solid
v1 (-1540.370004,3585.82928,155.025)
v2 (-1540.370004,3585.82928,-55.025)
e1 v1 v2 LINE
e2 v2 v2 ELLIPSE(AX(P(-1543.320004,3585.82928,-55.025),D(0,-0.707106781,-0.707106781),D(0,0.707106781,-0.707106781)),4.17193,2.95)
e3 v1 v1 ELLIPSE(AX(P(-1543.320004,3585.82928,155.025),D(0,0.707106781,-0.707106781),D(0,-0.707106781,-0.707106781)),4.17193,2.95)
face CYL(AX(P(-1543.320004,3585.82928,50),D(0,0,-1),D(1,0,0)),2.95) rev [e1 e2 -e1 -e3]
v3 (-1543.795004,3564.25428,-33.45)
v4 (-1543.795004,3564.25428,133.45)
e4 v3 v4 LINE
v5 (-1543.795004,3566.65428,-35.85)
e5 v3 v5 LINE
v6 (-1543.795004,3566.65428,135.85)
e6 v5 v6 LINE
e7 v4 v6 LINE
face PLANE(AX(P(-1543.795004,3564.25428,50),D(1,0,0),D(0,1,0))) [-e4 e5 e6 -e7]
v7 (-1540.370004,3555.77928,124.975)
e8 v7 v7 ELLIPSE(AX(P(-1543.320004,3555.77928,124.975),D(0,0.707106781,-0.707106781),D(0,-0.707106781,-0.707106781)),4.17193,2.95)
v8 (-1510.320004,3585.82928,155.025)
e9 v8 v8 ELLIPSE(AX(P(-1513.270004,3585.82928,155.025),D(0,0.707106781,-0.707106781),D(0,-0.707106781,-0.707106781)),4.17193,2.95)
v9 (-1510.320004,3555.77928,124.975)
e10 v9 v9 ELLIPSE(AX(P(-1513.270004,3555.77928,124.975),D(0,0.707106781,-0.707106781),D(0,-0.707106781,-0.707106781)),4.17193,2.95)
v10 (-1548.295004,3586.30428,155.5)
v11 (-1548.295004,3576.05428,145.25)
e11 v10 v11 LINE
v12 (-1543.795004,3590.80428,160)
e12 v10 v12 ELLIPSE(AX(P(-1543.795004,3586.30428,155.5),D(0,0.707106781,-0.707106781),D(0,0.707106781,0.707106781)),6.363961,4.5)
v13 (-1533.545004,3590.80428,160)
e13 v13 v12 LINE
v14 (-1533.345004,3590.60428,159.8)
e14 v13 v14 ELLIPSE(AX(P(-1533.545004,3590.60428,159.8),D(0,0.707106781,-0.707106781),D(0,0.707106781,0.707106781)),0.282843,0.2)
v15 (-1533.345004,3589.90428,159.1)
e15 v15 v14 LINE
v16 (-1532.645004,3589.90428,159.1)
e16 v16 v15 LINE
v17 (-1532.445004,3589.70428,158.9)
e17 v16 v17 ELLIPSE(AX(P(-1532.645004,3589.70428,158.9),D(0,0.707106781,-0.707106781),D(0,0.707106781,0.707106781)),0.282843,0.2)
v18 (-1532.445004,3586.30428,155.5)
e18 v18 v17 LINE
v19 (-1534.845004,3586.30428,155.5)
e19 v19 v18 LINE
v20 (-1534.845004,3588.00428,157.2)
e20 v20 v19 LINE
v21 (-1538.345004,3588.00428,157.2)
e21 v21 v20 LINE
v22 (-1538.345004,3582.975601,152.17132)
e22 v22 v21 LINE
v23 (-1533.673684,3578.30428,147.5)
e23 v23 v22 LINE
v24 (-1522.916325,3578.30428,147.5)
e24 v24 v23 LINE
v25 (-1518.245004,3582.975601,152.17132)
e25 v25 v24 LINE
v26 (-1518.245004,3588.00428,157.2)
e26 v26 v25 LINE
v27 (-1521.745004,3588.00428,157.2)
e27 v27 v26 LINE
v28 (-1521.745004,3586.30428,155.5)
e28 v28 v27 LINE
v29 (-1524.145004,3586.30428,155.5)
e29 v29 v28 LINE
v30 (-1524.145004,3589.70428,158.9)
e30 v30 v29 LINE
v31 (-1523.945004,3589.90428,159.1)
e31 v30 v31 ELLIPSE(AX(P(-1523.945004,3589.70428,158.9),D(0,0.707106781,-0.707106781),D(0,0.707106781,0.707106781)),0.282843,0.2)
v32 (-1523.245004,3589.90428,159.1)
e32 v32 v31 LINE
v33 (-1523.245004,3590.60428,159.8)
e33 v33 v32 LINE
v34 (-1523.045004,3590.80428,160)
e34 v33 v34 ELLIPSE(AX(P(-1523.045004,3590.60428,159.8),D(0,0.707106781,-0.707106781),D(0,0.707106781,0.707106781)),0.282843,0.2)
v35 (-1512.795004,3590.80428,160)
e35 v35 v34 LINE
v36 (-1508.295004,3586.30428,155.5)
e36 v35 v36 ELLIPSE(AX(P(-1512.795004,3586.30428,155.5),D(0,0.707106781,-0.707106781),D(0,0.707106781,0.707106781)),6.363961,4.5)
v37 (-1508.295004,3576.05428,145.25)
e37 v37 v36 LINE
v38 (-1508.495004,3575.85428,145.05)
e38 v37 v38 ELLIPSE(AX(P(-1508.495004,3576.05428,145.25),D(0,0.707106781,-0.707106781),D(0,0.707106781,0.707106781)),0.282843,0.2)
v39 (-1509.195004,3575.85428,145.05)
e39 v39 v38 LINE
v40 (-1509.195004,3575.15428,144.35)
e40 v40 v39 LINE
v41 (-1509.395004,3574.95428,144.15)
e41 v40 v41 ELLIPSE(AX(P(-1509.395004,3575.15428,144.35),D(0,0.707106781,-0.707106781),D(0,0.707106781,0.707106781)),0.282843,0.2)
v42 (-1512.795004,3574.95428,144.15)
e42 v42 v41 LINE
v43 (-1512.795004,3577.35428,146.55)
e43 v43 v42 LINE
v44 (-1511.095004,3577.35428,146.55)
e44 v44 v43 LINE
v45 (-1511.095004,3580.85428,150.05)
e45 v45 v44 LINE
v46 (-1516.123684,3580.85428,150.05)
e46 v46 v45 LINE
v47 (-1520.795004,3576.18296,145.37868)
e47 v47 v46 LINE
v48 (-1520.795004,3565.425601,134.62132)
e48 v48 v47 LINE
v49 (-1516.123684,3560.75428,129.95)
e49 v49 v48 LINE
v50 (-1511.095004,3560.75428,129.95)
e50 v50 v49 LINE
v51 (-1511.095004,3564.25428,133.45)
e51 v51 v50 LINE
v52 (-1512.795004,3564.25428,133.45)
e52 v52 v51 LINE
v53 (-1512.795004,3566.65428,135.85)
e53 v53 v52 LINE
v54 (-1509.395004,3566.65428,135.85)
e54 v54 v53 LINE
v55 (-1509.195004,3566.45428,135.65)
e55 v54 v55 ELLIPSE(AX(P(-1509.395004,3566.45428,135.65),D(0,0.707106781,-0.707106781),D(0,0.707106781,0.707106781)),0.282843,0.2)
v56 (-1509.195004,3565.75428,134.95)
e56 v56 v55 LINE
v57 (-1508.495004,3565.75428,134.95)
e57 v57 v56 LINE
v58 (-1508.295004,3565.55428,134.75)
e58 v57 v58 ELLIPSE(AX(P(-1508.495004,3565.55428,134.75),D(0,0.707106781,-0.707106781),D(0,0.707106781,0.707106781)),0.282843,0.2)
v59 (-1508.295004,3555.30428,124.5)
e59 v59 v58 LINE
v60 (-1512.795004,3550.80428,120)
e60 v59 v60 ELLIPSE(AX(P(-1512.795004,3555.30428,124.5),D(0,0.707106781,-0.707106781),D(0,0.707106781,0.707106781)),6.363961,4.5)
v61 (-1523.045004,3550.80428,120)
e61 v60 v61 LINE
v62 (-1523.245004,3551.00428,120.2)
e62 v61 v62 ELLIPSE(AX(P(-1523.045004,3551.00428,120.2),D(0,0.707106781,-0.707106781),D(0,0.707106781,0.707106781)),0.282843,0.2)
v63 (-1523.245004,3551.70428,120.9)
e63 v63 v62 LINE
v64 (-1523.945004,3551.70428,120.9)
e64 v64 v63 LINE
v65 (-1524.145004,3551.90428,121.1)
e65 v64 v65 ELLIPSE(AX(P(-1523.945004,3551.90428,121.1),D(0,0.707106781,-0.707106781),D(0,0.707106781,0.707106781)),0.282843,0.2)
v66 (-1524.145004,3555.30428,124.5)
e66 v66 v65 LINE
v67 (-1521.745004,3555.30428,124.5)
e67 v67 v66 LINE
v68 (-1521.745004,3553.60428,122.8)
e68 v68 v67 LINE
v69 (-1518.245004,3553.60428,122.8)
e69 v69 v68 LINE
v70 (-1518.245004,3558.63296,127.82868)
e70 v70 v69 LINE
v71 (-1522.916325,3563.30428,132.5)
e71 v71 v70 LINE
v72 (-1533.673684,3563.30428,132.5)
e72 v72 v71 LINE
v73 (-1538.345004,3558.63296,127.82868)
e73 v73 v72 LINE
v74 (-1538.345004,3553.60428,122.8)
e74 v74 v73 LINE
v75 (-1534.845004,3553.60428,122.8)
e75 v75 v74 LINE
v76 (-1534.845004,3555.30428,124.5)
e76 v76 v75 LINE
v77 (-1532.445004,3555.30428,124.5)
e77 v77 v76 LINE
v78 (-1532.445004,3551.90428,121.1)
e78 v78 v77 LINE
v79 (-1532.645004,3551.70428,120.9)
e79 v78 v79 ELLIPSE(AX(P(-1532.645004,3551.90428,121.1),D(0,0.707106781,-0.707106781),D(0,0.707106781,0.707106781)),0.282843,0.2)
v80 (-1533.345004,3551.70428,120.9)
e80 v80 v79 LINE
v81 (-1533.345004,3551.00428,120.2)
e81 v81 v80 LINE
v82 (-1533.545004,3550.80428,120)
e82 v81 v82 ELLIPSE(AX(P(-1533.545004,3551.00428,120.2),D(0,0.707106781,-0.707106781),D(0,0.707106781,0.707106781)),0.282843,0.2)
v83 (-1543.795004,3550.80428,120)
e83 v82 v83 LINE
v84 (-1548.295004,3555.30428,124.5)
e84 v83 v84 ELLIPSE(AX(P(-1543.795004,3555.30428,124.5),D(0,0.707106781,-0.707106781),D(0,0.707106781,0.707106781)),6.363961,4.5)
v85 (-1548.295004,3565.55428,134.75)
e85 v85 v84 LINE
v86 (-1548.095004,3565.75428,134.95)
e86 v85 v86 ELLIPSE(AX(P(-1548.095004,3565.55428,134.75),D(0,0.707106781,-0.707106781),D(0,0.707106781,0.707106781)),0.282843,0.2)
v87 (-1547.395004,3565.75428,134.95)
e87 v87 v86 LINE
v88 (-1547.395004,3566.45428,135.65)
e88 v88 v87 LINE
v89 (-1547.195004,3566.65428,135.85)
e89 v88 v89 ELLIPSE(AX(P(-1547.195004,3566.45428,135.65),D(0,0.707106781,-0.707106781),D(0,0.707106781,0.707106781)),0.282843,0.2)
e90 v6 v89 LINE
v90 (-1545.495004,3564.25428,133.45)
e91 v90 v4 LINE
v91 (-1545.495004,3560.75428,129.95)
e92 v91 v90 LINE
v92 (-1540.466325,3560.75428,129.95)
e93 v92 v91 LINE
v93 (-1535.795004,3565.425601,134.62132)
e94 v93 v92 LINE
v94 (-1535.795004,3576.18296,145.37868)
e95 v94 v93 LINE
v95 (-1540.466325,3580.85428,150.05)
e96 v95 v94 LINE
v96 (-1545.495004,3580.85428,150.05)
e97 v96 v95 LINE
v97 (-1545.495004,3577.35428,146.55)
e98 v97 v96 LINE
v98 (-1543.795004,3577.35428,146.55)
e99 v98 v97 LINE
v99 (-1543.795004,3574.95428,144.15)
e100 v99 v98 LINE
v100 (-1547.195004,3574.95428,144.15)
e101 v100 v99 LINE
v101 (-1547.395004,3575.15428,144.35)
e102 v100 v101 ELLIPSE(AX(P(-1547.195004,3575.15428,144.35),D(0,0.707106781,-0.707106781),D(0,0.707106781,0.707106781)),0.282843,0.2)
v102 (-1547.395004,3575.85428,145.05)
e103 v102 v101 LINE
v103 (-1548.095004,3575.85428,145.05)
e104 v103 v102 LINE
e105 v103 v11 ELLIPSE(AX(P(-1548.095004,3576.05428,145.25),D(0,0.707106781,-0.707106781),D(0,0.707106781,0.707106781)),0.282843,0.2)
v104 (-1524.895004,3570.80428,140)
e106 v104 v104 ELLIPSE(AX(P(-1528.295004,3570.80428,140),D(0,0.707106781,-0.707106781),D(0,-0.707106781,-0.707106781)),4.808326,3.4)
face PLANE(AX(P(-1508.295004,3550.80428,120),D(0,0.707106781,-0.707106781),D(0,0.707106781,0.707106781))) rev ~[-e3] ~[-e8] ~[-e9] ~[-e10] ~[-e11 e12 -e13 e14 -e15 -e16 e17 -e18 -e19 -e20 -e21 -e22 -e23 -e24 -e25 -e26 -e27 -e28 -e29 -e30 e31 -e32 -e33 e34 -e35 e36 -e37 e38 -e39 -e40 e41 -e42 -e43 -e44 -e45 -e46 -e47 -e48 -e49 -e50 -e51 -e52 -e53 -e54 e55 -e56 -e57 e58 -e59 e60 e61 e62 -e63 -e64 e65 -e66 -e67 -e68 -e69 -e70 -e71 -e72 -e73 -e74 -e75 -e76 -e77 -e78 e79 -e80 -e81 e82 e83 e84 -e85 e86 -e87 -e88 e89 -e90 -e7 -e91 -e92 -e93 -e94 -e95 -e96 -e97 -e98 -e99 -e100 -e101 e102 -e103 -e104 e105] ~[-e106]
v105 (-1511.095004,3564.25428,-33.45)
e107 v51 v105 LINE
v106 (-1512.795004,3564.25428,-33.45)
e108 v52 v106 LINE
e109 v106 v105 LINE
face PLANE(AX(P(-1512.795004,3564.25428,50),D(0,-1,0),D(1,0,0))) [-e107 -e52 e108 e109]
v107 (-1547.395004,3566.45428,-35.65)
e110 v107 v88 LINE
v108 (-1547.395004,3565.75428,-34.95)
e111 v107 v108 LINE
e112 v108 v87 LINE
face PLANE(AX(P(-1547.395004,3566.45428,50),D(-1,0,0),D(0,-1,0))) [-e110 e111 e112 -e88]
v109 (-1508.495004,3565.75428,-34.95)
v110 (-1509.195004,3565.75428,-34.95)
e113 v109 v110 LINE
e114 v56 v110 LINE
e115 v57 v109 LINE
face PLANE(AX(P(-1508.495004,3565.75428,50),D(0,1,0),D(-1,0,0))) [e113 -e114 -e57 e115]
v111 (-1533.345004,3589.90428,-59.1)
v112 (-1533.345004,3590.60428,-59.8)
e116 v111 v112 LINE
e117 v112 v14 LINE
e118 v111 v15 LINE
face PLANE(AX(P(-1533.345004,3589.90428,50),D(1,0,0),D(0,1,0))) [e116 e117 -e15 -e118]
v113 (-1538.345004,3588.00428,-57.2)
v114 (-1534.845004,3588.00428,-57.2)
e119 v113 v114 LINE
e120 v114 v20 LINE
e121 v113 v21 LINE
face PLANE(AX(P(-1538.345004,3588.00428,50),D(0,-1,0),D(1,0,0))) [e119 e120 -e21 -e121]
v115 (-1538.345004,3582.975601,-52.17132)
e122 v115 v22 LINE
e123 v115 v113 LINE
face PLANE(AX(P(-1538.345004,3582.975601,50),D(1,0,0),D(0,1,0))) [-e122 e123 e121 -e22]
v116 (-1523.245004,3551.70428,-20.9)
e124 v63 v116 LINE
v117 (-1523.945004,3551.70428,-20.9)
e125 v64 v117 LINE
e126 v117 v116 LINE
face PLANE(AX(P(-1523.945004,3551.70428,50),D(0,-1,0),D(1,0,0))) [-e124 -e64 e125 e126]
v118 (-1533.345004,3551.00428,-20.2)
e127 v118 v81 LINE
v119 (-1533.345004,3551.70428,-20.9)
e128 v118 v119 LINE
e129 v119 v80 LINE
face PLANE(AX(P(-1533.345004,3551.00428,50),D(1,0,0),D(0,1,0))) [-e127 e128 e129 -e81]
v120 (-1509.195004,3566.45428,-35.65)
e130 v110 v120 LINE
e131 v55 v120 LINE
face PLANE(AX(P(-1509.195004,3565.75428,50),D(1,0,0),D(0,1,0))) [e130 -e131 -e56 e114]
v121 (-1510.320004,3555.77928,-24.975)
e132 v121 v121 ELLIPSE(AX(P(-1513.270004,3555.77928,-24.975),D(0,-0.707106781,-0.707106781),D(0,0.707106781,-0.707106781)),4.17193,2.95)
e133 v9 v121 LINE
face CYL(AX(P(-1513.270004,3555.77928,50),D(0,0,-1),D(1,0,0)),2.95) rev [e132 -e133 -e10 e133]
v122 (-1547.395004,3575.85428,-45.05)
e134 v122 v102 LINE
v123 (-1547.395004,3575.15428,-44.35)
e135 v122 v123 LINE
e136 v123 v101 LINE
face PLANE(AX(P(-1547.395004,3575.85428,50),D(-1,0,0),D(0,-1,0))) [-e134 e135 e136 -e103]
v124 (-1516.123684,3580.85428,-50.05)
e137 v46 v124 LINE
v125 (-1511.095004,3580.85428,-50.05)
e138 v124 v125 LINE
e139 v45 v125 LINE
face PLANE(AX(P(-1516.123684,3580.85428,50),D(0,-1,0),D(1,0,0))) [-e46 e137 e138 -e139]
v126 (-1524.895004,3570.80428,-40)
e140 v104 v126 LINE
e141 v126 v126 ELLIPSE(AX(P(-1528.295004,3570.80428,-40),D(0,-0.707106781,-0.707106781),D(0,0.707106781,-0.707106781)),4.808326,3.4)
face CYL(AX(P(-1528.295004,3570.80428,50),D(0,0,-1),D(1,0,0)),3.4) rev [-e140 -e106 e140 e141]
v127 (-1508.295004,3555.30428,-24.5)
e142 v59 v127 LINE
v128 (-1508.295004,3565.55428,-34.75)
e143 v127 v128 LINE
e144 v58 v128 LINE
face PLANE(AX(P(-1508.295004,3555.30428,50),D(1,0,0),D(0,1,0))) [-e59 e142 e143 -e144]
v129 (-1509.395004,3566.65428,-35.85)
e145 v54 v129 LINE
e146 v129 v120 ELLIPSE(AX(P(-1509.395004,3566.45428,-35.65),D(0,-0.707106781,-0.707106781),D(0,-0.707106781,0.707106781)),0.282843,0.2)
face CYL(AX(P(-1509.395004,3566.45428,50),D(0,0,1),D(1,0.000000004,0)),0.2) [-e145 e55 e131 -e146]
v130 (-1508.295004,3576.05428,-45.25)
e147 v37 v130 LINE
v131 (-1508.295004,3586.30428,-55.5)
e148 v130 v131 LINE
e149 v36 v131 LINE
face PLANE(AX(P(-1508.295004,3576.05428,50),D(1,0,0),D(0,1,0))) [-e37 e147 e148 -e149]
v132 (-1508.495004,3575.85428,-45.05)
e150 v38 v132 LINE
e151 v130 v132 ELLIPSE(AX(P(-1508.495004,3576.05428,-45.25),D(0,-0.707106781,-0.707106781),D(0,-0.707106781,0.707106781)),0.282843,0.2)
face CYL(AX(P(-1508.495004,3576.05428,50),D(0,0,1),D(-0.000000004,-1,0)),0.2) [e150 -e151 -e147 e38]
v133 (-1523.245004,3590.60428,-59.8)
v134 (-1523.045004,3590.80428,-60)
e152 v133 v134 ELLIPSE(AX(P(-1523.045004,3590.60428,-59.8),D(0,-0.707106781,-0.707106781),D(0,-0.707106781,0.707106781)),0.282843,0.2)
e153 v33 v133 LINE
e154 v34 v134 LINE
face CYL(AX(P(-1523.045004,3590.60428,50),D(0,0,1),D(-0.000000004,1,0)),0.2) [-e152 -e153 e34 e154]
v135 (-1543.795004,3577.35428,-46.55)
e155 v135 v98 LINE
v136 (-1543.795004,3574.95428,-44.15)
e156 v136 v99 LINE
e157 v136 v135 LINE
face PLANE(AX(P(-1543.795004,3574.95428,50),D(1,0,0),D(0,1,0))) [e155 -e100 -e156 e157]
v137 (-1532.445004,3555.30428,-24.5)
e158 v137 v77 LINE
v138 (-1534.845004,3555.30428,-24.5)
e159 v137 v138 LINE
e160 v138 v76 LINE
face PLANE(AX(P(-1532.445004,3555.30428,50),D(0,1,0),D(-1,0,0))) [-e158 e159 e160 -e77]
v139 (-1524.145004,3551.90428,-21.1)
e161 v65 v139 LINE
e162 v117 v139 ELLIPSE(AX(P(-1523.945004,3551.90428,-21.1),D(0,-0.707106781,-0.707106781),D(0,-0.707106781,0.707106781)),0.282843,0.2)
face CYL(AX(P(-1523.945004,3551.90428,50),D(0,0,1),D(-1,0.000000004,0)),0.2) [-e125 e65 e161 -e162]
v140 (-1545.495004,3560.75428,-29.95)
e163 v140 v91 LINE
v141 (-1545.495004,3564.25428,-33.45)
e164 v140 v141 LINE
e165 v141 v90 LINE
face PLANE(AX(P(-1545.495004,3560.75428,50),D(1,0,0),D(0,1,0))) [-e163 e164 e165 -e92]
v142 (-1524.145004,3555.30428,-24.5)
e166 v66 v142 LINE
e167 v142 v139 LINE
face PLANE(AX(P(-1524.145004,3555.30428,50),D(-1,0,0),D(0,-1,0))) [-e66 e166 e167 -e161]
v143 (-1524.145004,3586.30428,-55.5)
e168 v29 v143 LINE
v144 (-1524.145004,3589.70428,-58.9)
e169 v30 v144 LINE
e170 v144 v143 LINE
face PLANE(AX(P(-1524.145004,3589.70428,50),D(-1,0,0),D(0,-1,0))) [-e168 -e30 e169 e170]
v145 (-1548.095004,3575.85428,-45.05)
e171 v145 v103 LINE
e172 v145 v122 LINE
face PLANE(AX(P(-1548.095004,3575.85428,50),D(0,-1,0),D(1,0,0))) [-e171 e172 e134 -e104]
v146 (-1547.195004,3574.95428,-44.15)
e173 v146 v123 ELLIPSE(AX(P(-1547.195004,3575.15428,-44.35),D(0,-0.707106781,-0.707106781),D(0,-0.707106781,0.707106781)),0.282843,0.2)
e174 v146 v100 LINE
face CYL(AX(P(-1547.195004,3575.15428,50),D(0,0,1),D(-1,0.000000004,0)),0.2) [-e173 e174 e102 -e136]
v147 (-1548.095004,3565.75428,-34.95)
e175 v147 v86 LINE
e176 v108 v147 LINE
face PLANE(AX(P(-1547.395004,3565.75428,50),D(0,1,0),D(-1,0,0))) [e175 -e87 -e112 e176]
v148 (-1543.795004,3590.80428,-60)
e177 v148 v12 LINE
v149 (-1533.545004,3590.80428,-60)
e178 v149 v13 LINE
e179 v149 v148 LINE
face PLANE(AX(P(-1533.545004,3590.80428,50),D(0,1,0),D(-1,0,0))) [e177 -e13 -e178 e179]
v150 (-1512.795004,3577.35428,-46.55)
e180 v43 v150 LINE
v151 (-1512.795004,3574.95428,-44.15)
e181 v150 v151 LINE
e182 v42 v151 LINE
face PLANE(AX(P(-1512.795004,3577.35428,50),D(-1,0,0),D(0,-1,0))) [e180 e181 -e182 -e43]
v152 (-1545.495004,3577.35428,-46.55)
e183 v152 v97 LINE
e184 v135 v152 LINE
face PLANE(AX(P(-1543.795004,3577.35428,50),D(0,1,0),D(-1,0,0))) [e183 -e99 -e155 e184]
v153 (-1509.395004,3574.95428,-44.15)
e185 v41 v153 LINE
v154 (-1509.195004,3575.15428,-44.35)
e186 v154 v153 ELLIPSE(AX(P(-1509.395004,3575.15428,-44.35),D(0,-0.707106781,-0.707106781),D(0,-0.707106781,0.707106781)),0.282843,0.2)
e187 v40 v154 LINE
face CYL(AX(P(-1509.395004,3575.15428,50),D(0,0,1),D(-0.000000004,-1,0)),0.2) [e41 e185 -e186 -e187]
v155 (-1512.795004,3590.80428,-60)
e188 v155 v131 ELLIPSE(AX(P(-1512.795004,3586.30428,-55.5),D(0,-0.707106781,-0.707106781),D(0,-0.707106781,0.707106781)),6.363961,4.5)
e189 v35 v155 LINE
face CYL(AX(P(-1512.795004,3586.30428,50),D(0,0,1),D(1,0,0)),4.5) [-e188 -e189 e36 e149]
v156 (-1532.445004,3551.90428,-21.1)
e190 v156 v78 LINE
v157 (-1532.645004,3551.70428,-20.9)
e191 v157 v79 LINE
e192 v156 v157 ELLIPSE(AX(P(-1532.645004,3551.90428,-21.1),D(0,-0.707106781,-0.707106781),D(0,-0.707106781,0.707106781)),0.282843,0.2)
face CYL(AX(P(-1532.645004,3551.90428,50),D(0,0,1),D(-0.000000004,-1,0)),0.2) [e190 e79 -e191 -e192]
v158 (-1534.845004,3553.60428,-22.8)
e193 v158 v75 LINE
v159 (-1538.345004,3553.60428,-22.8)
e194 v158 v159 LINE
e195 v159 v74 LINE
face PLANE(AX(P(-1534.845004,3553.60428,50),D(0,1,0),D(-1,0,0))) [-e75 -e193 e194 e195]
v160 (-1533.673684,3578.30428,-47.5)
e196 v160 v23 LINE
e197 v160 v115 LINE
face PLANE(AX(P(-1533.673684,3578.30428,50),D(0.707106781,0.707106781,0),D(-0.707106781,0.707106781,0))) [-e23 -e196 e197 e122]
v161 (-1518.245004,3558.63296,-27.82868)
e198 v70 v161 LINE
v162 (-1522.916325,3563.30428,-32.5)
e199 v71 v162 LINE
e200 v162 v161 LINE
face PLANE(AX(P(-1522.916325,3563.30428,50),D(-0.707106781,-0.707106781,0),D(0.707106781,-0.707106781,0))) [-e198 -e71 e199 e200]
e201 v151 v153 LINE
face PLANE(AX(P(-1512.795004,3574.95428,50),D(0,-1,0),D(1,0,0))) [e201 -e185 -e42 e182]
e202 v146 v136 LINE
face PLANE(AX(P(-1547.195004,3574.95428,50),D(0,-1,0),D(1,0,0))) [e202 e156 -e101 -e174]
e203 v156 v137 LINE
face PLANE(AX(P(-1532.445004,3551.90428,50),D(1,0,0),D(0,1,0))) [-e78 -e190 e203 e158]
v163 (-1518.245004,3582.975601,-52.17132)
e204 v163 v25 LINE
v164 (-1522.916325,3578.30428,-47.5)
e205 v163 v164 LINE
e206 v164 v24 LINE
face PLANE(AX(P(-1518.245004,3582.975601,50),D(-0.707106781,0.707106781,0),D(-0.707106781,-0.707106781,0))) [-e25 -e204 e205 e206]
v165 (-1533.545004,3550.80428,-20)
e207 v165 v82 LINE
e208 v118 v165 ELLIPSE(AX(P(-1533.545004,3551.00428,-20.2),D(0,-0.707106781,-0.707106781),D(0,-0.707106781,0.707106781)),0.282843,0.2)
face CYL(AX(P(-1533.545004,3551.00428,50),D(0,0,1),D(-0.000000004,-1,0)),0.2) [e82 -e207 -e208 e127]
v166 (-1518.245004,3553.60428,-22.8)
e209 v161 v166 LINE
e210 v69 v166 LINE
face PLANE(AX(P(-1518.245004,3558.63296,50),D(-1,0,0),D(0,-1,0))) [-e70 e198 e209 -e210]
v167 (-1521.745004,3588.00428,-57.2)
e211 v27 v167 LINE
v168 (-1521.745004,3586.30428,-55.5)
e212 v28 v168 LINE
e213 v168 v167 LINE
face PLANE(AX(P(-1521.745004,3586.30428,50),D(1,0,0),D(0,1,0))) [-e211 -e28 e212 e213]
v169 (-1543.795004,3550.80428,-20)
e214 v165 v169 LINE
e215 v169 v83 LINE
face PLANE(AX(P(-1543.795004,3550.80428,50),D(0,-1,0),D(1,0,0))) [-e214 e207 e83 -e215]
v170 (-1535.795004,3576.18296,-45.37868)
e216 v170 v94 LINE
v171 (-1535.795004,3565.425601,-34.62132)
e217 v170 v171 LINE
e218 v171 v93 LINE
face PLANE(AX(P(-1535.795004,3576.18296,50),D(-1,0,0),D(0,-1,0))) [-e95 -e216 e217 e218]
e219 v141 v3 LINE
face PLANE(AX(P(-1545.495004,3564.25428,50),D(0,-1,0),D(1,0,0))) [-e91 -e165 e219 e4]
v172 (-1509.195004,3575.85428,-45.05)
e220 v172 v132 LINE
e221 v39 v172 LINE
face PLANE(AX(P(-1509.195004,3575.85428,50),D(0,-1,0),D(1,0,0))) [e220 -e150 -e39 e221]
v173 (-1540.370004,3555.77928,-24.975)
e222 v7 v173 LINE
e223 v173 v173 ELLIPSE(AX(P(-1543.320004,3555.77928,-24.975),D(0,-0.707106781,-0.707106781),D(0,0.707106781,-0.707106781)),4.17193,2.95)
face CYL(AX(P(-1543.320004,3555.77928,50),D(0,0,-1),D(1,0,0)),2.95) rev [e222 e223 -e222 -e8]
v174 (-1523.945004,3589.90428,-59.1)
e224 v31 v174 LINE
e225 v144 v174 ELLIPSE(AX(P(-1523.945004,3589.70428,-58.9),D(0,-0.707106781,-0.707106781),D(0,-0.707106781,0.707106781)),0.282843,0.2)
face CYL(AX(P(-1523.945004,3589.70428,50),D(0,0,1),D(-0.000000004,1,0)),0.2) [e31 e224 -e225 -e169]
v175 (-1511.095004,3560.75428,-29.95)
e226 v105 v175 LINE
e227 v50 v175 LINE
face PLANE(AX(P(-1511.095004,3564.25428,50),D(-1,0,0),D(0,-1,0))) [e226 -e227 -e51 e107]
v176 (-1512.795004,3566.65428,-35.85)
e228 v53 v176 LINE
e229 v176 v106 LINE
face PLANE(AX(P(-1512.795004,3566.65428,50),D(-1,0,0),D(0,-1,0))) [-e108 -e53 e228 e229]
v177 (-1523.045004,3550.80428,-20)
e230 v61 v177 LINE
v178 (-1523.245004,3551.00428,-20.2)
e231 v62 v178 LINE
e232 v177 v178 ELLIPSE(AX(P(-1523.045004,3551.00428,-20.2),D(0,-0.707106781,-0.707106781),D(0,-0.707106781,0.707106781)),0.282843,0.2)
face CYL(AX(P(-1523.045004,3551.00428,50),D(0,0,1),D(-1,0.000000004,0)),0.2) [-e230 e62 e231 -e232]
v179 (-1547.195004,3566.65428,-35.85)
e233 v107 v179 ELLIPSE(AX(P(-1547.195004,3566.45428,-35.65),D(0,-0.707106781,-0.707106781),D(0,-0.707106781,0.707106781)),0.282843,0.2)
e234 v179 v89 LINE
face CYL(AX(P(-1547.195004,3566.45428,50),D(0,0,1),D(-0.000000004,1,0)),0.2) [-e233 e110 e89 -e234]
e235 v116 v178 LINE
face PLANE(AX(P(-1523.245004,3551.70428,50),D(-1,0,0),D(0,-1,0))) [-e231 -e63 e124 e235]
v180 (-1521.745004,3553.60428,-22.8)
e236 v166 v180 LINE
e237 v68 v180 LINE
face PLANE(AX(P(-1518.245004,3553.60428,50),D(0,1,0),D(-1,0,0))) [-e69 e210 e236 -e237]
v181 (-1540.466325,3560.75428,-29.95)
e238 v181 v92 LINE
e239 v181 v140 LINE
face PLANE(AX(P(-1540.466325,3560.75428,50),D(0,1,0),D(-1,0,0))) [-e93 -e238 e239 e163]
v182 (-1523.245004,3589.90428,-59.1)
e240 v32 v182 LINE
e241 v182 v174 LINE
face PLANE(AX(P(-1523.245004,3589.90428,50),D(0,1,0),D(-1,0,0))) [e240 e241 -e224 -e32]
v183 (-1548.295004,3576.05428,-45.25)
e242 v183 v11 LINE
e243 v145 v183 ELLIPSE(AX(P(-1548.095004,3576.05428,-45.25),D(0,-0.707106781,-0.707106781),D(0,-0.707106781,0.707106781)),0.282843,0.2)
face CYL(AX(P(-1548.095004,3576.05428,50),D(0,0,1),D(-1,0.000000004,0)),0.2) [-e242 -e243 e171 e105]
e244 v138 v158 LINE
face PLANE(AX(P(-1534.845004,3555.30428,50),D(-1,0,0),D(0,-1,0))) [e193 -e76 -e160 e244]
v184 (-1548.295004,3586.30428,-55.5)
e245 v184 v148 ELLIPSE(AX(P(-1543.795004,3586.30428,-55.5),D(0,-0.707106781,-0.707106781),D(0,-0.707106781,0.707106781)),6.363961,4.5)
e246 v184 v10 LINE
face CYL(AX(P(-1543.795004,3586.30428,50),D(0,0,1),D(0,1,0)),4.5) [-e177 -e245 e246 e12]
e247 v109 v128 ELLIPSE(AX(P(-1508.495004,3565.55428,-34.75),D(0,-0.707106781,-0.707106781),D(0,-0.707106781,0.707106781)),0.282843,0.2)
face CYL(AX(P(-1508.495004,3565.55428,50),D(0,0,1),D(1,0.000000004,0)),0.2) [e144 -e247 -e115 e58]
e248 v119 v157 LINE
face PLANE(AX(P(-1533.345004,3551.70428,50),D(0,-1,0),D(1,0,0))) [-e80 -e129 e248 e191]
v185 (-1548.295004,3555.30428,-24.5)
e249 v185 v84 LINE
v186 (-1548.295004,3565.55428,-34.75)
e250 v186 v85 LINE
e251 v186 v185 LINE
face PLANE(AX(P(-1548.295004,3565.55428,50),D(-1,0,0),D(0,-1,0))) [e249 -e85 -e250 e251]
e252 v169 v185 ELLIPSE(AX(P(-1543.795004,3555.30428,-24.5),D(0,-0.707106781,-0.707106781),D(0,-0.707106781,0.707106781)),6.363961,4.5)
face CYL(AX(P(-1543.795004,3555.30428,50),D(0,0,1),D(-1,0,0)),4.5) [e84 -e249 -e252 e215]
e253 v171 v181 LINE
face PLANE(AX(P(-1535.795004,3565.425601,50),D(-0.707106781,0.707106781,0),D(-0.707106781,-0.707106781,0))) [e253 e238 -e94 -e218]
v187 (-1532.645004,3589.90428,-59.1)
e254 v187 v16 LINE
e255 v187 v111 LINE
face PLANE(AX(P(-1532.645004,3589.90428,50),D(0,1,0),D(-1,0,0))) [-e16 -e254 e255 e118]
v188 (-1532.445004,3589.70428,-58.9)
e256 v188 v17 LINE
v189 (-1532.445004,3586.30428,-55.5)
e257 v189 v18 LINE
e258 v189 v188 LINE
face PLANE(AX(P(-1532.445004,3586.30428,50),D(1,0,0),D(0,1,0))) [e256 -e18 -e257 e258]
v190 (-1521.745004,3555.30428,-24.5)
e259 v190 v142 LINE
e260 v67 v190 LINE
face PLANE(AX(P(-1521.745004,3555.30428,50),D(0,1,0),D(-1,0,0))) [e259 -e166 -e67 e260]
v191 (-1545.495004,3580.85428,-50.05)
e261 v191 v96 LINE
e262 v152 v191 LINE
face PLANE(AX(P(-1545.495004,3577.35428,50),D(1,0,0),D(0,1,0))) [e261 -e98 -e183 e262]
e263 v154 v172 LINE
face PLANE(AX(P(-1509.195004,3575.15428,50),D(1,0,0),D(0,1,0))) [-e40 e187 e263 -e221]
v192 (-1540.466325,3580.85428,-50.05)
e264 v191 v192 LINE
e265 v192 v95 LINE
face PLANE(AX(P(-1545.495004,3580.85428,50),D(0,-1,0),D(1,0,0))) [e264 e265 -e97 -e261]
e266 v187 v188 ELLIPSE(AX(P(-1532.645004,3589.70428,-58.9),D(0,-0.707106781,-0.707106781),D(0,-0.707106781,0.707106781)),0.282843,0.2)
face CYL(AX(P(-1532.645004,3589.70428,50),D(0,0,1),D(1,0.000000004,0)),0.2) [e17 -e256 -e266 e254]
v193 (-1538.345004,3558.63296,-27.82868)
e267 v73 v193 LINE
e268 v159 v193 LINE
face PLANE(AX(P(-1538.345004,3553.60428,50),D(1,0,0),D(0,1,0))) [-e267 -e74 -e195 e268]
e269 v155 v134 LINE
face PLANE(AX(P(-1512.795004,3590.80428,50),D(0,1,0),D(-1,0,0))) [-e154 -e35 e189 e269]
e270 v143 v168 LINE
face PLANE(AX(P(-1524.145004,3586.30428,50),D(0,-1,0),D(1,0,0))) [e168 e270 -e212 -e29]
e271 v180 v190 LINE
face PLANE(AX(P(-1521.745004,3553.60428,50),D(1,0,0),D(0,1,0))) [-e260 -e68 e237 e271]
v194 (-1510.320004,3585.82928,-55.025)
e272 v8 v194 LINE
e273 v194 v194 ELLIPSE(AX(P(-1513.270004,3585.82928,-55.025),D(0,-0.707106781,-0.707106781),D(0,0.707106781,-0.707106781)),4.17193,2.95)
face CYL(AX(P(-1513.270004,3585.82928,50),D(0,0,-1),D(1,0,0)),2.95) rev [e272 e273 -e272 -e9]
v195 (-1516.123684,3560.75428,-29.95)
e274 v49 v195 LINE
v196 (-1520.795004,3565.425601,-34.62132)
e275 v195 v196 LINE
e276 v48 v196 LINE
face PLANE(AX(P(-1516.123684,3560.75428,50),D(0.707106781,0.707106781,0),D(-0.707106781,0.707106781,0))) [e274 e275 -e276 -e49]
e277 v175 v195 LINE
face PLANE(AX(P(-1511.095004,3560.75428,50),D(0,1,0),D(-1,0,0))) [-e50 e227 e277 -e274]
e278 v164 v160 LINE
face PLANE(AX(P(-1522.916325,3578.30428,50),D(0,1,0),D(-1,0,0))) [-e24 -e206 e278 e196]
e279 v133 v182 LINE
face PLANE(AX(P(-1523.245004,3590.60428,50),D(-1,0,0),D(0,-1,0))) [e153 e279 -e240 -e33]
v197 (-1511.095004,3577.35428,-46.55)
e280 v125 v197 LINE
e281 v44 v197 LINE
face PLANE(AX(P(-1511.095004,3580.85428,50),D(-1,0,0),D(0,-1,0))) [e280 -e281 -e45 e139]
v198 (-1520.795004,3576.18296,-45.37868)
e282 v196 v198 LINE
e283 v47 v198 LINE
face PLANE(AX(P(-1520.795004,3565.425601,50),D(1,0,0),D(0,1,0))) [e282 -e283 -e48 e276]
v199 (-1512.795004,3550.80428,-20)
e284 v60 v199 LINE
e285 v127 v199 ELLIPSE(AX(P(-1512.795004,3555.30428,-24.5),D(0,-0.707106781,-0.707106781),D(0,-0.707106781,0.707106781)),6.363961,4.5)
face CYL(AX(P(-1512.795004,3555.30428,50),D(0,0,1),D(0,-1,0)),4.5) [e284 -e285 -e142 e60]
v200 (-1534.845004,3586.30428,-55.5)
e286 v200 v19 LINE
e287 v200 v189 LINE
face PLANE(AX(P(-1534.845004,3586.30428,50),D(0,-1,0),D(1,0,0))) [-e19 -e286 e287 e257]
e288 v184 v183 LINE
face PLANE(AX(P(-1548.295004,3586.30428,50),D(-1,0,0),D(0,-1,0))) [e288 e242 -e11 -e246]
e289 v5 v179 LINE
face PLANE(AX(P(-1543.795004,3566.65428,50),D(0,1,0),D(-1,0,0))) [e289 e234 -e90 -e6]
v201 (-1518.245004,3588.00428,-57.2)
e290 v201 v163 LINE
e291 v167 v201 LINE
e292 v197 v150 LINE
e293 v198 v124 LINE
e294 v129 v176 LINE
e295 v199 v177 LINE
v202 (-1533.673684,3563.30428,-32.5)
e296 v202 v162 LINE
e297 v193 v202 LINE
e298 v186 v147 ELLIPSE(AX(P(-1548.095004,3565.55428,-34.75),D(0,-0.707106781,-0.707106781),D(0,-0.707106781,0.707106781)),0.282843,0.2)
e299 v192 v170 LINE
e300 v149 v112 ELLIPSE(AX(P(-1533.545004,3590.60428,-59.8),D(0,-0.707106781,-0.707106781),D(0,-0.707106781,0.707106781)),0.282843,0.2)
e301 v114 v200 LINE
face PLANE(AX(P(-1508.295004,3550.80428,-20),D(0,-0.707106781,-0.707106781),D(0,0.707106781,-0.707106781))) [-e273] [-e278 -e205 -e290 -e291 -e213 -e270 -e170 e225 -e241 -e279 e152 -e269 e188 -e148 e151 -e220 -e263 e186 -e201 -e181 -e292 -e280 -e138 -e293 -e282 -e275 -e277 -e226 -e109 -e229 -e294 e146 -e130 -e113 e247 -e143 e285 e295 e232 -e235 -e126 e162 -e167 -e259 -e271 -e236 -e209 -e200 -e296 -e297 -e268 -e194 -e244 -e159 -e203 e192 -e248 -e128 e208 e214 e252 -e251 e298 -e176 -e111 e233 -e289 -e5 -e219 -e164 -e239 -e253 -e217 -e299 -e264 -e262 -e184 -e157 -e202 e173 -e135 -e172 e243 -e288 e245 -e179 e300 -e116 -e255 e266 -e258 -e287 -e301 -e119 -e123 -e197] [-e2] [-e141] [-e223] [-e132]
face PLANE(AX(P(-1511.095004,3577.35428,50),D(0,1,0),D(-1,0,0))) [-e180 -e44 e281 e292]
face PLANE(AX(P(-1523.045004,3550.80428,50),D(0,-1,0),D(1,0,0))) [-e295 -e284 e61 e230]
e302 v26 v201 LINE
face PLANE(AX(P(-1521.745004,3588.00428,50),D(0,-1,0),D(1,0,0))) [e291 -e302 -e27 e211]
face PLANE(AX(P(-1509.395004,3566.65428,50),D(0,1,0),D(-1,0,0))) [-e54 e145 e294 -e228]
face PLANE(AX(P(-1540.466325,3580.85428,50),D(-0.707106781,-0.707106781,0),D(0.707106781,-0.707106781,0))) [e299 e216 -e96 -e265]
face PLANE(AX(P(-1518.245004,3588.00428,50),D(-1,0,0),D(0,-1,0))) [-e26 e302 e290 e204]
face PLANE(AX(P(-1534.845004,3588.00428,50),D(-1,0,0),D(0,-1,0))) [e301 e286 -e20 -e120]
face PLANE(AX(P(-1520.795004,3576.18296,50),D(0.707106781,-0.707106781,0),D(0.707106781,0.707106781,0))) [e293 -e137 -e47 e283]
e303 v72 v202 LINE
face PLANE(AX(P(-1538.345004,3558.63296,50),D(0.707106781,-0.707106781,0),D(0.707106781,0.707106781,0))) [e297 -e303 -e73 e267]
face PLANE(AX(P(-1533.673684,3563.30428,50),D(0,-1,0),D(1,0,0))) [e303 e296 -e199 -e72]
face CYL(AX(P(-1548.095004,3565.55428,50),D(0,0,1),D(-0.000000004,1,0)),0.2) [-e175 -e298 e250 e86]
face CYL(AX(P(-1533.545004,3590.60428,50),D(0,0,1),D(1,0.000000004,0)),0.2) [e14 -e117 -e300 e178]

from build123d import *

# Parameters (mm, degrees)
SKETCH_1_R          = 2.95
SKETCH_1_R_2        = 3.4
EXTRUDE_1_DEPTH     = 110
CUT_EXTRUDE_1_DEPTH = 86


with BuildPart() as part:
    # 草图1 → 凸台-拉伸1 (new body, symmetric)
    with BuildSketch(Plane.XY.offset(50)):
        with BuildLine():
            Line((-1518.245004392, 3588.004280474), (-1518.245004392, 3582.975600817))
            Line((-1518.245004392, 3582.975600817), (-1522.916324736, 3578.304280474))
            Line((-1522.916324736, 3578.304280474), (-1533.673684048, 3578.304280474))
            Line((-1533.673684048, 3578.304280474), (-1538.345004392, 3582.975600817))
            Line((-1538.345004392, 3582.975600817), (-1538.345004392, 3588.004280474))
            Line((-1538.345004392, 3588.004280474), (-1534.845004392, 3588.004280474))
            Line((-1534.845004392, 3588.004280474), (-1534.845004392, 3586.304280474))
            Line((-1534.845004392, 3586.304280474), (-1532.445004392, 3586.304280474))
            Line((-1532.445004392, 3586.304280474), (-1532.445004392, 3589.704280474))
            ThreePointArc((-1532.445004392, 3589.704280474), (-1532.503583036, 3589.84570183), (-1532.645004392, 3589.904280474))
            Line((-1532.645004392, 3589.904280474), (-1533.345004392, 3589.904280474))
            Line((-1533.345004392, 3589.904280474), (-1533.345004392, 3590.604280474))
            ThreePointArc((-1533.345004392, 3590.604280474), (-1533.403583036, 3590.74570183), (-1533.545004392, 3590.804280474))
            Line((-1533.545004392, 3590.804280474), (-1543.795004392, 3590.804280474))
            ThreePointArc((-1543.795004392, 3590.804280474), (-1546.976984907, 3589.486260989), (-1548.295004392, 3586.304280474))
            Line((-1548.295004392, 3586.304280474), (-1548.295004392, 3576.054280474))
            ThreePointArc((-1548.295004392, 3576.054280474), (-1548.236425748, 3575.912859117), (-1548.095004392, 3575.854280474))
            Line((-1548.095004392, 3575.854280474), (-1547.395004392, 3575.854280474))
            Line((-1547.395004392, 3575.854280474), (-1547.395004392, 3575.154280474))
            ThreePointArc((-1547.395004392, 3575.154280474), (-1547.336425748, 3575.012859117), (-1547.195004392, 3574.954280474))
            Line((-1547.195004392, 3574.954280474), (-1543.795004392, 3574.954280474))
            Line((-1543.795004392, 3574.954280474), (-1543.795004392, 3577.354280474))
            Line((-1543.795004392, 3577.354280474), (-1545.495004392, 3577.354280474))
            Line((-1545.495004392, 3577.354280474), (-1545.495004392, 3580.854280474))
            Line((-1545.495004392, 3580.854280474), (-1540.466324736, 3580.854280474))
            Line((-1540.466324736, 3580.854280474), (-1535.795004392, 3576.18296013))
            Line((-1535.795004392, 3576.18296013), (-1535.795004392, 3565.425600817))
            Line((-1535.795004392, 3565.425600817), (-1540.466324736, 3560.754280474))
            Line((-1540.466324736, 3560.754280474), (-1545.495004392, 3560.754280474))
            Line((-1545.495004392, 3560.754280474), (-1545.495004392, 3564.254280474))
            Line((-1545.495004392, 3564.254280474), (-1543.795004392, 3564.254280474))
            Line((-1543.795004392, 3564.254280474), (-1543.795004392, 3566.654280474))
            Line((-1543.795004392, 3566.654280474), (-1547.195004392, 3566.654280474))
            ThreePointArc((-1547.195004392, 3566.654280474), (-1547.336425748, 3566.59570183), (-1547.395004392, 3566.454280474))
            Line((-1547.395004392, 3566.454280474), (-1547.395004392, 3565.754280474))
            Line((-1547.395004392, 3565.754280474), (-1548.095004392, 3565.754280474))
            ThreePointArc((-1548.095004392, 3565.754280474), (-1548.236425748, 3565.69570183), (-1548.295004392, 3565.554280474))
            Line((-1548.295004392, 3565.554280474), (-1548.295004392, 3555.304280474))
            ThreePointArc((-1548.295004392, 3555.304280474), (-1546.976984907, 3552.122299958), (-1543.795004392, 3550.804280474))
            Line((-1543.795004392, 3550.804280474), (-1533.545004392, 3550.804280474))
            ThreePointArc((-1533.545004392, 3550.804280474), (-1533.403583036, 3550.862859117), (-1533.345004392, 3551.004280474))
            Line((-1533.345004392, 3551.004280474), (-1533.345004392, 3551.704280474))
            Line((-1533.345004392, 3551.704280474), (-1532.645004392, 3551.704280474))
            ThreePointArc((-1532.645004392, 3551.704280474), (-1532.503583036, 3551.762859117), (-1532.445004392, 3551.904280474))
            Line((-1532.445004392, 3551.904280474), (-1532.445004392, 3555.304280474))
            Line((-1532.445004392, 3555.304280474), (-1534.845004392, 3555.304280474))
            Line((-1534.845004392, 3555.304280474), (-1534.845004392, 3553.604280474))
            Line((-1534.845004392, 3553.604280474), (-1538.345004392, 3553.604280474))
            Line((-1538.345004392, 3553.604280474), (-1538.345004392, 3558.63296013))
            Line((-1538.345004392, 3558.63296013), (-1533.673684048, 3563.304280474))
            Line((-1533.673684048, 3563.304280474), (-1522.916324736, 3563.304280474))
            Line((-1522.916324736, 3563.304280474), (-1518.245004392, 3558.63296013))
            Line((-1518.245004392, 3558.63296013), (-1518.245004392, 3553.604280474))
            Line((-1518.245004392, 3553.604280474), (-1521.745004392, 3553.604280474))
            Line((-1521.745004392, 3553.604280474), (-1521.745004392, 3555.304280474))
            Line((-1521.745004392, 3555.304280474), (-1524.145004392, 3555.304280474))
            Line((-1524.145004392, 3555.304280474), (-1524.145004392, 3551.904280474))
            ThreePointArc((-1524.145004392, 3551.904280474), (-1524.086425748, 3551.762859117), (-1523.945004392, 3551.704280474))
            Line((-1523.945004392, 3551.704280474), (-1523.245004392, 3551.704280474))
            Line((-1523.245004392, 3551.704280474), (-1523.245004392, 3551.004280474))
            ThreePointArc((-1523.245004392, 3551.004280474), (-1523.186425748, 3550.862859117), (-1523.045004392, 3550.804280474))
            Line((-1523.045004392, 3550.804280474), (-1512.795004392, 3550.804280474))
            ThreePointArc((-1512.795004392, 3550.804280474), (-1509.613023877, 3552.122299958), (-1508.295004392, 3555.304280474))
            Line((-1508.295004392, 3555.304280474), (-1508.295004392, 3565.554280474))
            ThreePointArc((-1508.295004392, 3565.554280474), (-1508.353583036, 3565.69570183), (-1508.495004392, 3565.754280474))
            Line((-1508.495004392, 3565.754280474), (-1509.195004392, 3565.754280474))
            Line((-1509.195004392, 3565.754280474), (-1509.195004392, 3566.454280474))
            ThreePointArc((-1509.195004392, 3566.454280474), (-1509.253583036, 3566.59570183), (-1509.395004392, 3566.654280474))
            Line((-1509.395004392, 3566.654280474), (-1512.795004392, 3566.654280474))
            Line((-1512.795004392, 3566.654280474), (-1512.795004392, 3564.254280474))
            Line((-1512.795004392, 3564.254280474), (-1511.095004392, 3564.254280474))
            Line((-1511.095004392, 3564.254280474), (-1511.095004392, 3560.754280474))
            Line((-1511.095004392, 3560.754280474), (-1516.123684048, 3560.754280474))
            Line((-1516.123684048, 3560.754280474), (-1520.795004392, 3565.425600817))
            Line((-1520.795004392, 3565.425600817), (-1520.795004392, 3576.18296013))
            Line((-1520.795004392, 3576.18296013), (-1516.123684048, 3580.854280474))
            Line((-1516.123684048, 3580.854280474), (-1511.095004392, 3580.854280474))
            Line((-1511.095004392, 3580.854280474), (-1511.095004392, 3577.354280474))
            Line((-1511.095004392, 3577.354280474), (-1512.795004392, 3577.354280474))
            Line((-1512.795004392, 3577.354280474), (-1512.795004392, 3574.954280474))
            Line((-1512.795004392, 3574.954280474), (-1509.395004392, 3574.954280474))
            ThreePointArc((-1509.395004392, 3574.954280474), (-1509.253583036, 3575.012859117), (-1509.195004392, 3575.154280474))
            Line((-1509.195004392, 3575.154280474), (-1509.195004392, 3575.854280474))
            Line((-1509.195004392, 3575.854280474), (-1508.495004392, 3575.854280474))
            ThreePointArc((-1508.495004392, 3575.854280474), (-1508.353583036, 3575.912859117), (-1508.295004392, 3576.054280474))
            Line((-1508.295004392, 3576.054280474), (-1508.295004392, 3586.304280474))
            ThreePointArc((-1508.295004392, 3586.304280474), (-1509.613023877, 3589.486260989), (-1512.795004392, 3590.804280474))
            Line((-1512.795004392, 3590.804280474), (-1523.045004392, 3590.804280474))
            ThreePointArc((-1523.045004392, 3590.804280474), (-1523.186425748, 3590.74570183), (-1523.245004392, 3590.604280474))
            Line((-1523.245004392, 3590.604280474), (-1523.245004392, 3589.904280474))
            Line((-1523.245004392, 3589.904280474), (-1523.945004392, 3589.904280474))
            ThreePointArc((-1523.945004392, 3589.904280474), (-1524.086425748, 3589.84570183), (-1524.145004392, 3589.704280474))
            Line((-1524.145004392, 3589.704280474), (-1524.145004392, 3586.304280474))
            Line((-1524.145004392, 3586.304280474), (-1521.745004392, 3586.304280474))
            Line((-1521.745004392, 3586.304280474), (-1521.745004392, 3588.004280474))
            Line((-1521.745004392, 3588.004280474), (-1518.245004392, 3588.004280474))
        make_face()
        with Locations((-1513.270004392, 3555.779280474)):
            Circle(SKETCH_1_R, mode=Mode.SUBTRACT)
        with Locations((-1528.295004392, 3570.804280474)):
            Circle(SKETCH_1_R_2, mode=Mode.SUBTRACT)
        with Locations((-1513.270004392, 3585.829280474)):
            Circle(SKETCH_1_R, mode=Mode.SUBTRACT)
        with Locations((-1543.320004392, 3585.829280474)):
            Circle(SKETCH_1_R, mode=Mode.SUBTRACT)
        with Locations((-1543.320004392, 3555.779280474)):
            Circle(SKETCH_1_R, mode=Mode.SUBTRACT)
    extrude(amount=EXTRUDE_1_DEPTH, both=True)

    # 草图2 → 切除-拉伸1 (cut)
    with BuildSketch(Plane(origin=(-1508.295004392, 0, 0), x_dir=(0, 0, -1), z_dir=(1, 0, 0))):
        Polygon((60, 3590.804280474), (60, 3550.804280474), (20, 3550.804280474), align=None)
        Polygon((-160, 3590.804280474), (-160, 3550.804280474), (-120, 3550.804280474), align=None)
    extrude(amount=-CUT_EXTRUDE_1_DEPTH, mode=Mode.SUBTRACT)


solid = part.part
